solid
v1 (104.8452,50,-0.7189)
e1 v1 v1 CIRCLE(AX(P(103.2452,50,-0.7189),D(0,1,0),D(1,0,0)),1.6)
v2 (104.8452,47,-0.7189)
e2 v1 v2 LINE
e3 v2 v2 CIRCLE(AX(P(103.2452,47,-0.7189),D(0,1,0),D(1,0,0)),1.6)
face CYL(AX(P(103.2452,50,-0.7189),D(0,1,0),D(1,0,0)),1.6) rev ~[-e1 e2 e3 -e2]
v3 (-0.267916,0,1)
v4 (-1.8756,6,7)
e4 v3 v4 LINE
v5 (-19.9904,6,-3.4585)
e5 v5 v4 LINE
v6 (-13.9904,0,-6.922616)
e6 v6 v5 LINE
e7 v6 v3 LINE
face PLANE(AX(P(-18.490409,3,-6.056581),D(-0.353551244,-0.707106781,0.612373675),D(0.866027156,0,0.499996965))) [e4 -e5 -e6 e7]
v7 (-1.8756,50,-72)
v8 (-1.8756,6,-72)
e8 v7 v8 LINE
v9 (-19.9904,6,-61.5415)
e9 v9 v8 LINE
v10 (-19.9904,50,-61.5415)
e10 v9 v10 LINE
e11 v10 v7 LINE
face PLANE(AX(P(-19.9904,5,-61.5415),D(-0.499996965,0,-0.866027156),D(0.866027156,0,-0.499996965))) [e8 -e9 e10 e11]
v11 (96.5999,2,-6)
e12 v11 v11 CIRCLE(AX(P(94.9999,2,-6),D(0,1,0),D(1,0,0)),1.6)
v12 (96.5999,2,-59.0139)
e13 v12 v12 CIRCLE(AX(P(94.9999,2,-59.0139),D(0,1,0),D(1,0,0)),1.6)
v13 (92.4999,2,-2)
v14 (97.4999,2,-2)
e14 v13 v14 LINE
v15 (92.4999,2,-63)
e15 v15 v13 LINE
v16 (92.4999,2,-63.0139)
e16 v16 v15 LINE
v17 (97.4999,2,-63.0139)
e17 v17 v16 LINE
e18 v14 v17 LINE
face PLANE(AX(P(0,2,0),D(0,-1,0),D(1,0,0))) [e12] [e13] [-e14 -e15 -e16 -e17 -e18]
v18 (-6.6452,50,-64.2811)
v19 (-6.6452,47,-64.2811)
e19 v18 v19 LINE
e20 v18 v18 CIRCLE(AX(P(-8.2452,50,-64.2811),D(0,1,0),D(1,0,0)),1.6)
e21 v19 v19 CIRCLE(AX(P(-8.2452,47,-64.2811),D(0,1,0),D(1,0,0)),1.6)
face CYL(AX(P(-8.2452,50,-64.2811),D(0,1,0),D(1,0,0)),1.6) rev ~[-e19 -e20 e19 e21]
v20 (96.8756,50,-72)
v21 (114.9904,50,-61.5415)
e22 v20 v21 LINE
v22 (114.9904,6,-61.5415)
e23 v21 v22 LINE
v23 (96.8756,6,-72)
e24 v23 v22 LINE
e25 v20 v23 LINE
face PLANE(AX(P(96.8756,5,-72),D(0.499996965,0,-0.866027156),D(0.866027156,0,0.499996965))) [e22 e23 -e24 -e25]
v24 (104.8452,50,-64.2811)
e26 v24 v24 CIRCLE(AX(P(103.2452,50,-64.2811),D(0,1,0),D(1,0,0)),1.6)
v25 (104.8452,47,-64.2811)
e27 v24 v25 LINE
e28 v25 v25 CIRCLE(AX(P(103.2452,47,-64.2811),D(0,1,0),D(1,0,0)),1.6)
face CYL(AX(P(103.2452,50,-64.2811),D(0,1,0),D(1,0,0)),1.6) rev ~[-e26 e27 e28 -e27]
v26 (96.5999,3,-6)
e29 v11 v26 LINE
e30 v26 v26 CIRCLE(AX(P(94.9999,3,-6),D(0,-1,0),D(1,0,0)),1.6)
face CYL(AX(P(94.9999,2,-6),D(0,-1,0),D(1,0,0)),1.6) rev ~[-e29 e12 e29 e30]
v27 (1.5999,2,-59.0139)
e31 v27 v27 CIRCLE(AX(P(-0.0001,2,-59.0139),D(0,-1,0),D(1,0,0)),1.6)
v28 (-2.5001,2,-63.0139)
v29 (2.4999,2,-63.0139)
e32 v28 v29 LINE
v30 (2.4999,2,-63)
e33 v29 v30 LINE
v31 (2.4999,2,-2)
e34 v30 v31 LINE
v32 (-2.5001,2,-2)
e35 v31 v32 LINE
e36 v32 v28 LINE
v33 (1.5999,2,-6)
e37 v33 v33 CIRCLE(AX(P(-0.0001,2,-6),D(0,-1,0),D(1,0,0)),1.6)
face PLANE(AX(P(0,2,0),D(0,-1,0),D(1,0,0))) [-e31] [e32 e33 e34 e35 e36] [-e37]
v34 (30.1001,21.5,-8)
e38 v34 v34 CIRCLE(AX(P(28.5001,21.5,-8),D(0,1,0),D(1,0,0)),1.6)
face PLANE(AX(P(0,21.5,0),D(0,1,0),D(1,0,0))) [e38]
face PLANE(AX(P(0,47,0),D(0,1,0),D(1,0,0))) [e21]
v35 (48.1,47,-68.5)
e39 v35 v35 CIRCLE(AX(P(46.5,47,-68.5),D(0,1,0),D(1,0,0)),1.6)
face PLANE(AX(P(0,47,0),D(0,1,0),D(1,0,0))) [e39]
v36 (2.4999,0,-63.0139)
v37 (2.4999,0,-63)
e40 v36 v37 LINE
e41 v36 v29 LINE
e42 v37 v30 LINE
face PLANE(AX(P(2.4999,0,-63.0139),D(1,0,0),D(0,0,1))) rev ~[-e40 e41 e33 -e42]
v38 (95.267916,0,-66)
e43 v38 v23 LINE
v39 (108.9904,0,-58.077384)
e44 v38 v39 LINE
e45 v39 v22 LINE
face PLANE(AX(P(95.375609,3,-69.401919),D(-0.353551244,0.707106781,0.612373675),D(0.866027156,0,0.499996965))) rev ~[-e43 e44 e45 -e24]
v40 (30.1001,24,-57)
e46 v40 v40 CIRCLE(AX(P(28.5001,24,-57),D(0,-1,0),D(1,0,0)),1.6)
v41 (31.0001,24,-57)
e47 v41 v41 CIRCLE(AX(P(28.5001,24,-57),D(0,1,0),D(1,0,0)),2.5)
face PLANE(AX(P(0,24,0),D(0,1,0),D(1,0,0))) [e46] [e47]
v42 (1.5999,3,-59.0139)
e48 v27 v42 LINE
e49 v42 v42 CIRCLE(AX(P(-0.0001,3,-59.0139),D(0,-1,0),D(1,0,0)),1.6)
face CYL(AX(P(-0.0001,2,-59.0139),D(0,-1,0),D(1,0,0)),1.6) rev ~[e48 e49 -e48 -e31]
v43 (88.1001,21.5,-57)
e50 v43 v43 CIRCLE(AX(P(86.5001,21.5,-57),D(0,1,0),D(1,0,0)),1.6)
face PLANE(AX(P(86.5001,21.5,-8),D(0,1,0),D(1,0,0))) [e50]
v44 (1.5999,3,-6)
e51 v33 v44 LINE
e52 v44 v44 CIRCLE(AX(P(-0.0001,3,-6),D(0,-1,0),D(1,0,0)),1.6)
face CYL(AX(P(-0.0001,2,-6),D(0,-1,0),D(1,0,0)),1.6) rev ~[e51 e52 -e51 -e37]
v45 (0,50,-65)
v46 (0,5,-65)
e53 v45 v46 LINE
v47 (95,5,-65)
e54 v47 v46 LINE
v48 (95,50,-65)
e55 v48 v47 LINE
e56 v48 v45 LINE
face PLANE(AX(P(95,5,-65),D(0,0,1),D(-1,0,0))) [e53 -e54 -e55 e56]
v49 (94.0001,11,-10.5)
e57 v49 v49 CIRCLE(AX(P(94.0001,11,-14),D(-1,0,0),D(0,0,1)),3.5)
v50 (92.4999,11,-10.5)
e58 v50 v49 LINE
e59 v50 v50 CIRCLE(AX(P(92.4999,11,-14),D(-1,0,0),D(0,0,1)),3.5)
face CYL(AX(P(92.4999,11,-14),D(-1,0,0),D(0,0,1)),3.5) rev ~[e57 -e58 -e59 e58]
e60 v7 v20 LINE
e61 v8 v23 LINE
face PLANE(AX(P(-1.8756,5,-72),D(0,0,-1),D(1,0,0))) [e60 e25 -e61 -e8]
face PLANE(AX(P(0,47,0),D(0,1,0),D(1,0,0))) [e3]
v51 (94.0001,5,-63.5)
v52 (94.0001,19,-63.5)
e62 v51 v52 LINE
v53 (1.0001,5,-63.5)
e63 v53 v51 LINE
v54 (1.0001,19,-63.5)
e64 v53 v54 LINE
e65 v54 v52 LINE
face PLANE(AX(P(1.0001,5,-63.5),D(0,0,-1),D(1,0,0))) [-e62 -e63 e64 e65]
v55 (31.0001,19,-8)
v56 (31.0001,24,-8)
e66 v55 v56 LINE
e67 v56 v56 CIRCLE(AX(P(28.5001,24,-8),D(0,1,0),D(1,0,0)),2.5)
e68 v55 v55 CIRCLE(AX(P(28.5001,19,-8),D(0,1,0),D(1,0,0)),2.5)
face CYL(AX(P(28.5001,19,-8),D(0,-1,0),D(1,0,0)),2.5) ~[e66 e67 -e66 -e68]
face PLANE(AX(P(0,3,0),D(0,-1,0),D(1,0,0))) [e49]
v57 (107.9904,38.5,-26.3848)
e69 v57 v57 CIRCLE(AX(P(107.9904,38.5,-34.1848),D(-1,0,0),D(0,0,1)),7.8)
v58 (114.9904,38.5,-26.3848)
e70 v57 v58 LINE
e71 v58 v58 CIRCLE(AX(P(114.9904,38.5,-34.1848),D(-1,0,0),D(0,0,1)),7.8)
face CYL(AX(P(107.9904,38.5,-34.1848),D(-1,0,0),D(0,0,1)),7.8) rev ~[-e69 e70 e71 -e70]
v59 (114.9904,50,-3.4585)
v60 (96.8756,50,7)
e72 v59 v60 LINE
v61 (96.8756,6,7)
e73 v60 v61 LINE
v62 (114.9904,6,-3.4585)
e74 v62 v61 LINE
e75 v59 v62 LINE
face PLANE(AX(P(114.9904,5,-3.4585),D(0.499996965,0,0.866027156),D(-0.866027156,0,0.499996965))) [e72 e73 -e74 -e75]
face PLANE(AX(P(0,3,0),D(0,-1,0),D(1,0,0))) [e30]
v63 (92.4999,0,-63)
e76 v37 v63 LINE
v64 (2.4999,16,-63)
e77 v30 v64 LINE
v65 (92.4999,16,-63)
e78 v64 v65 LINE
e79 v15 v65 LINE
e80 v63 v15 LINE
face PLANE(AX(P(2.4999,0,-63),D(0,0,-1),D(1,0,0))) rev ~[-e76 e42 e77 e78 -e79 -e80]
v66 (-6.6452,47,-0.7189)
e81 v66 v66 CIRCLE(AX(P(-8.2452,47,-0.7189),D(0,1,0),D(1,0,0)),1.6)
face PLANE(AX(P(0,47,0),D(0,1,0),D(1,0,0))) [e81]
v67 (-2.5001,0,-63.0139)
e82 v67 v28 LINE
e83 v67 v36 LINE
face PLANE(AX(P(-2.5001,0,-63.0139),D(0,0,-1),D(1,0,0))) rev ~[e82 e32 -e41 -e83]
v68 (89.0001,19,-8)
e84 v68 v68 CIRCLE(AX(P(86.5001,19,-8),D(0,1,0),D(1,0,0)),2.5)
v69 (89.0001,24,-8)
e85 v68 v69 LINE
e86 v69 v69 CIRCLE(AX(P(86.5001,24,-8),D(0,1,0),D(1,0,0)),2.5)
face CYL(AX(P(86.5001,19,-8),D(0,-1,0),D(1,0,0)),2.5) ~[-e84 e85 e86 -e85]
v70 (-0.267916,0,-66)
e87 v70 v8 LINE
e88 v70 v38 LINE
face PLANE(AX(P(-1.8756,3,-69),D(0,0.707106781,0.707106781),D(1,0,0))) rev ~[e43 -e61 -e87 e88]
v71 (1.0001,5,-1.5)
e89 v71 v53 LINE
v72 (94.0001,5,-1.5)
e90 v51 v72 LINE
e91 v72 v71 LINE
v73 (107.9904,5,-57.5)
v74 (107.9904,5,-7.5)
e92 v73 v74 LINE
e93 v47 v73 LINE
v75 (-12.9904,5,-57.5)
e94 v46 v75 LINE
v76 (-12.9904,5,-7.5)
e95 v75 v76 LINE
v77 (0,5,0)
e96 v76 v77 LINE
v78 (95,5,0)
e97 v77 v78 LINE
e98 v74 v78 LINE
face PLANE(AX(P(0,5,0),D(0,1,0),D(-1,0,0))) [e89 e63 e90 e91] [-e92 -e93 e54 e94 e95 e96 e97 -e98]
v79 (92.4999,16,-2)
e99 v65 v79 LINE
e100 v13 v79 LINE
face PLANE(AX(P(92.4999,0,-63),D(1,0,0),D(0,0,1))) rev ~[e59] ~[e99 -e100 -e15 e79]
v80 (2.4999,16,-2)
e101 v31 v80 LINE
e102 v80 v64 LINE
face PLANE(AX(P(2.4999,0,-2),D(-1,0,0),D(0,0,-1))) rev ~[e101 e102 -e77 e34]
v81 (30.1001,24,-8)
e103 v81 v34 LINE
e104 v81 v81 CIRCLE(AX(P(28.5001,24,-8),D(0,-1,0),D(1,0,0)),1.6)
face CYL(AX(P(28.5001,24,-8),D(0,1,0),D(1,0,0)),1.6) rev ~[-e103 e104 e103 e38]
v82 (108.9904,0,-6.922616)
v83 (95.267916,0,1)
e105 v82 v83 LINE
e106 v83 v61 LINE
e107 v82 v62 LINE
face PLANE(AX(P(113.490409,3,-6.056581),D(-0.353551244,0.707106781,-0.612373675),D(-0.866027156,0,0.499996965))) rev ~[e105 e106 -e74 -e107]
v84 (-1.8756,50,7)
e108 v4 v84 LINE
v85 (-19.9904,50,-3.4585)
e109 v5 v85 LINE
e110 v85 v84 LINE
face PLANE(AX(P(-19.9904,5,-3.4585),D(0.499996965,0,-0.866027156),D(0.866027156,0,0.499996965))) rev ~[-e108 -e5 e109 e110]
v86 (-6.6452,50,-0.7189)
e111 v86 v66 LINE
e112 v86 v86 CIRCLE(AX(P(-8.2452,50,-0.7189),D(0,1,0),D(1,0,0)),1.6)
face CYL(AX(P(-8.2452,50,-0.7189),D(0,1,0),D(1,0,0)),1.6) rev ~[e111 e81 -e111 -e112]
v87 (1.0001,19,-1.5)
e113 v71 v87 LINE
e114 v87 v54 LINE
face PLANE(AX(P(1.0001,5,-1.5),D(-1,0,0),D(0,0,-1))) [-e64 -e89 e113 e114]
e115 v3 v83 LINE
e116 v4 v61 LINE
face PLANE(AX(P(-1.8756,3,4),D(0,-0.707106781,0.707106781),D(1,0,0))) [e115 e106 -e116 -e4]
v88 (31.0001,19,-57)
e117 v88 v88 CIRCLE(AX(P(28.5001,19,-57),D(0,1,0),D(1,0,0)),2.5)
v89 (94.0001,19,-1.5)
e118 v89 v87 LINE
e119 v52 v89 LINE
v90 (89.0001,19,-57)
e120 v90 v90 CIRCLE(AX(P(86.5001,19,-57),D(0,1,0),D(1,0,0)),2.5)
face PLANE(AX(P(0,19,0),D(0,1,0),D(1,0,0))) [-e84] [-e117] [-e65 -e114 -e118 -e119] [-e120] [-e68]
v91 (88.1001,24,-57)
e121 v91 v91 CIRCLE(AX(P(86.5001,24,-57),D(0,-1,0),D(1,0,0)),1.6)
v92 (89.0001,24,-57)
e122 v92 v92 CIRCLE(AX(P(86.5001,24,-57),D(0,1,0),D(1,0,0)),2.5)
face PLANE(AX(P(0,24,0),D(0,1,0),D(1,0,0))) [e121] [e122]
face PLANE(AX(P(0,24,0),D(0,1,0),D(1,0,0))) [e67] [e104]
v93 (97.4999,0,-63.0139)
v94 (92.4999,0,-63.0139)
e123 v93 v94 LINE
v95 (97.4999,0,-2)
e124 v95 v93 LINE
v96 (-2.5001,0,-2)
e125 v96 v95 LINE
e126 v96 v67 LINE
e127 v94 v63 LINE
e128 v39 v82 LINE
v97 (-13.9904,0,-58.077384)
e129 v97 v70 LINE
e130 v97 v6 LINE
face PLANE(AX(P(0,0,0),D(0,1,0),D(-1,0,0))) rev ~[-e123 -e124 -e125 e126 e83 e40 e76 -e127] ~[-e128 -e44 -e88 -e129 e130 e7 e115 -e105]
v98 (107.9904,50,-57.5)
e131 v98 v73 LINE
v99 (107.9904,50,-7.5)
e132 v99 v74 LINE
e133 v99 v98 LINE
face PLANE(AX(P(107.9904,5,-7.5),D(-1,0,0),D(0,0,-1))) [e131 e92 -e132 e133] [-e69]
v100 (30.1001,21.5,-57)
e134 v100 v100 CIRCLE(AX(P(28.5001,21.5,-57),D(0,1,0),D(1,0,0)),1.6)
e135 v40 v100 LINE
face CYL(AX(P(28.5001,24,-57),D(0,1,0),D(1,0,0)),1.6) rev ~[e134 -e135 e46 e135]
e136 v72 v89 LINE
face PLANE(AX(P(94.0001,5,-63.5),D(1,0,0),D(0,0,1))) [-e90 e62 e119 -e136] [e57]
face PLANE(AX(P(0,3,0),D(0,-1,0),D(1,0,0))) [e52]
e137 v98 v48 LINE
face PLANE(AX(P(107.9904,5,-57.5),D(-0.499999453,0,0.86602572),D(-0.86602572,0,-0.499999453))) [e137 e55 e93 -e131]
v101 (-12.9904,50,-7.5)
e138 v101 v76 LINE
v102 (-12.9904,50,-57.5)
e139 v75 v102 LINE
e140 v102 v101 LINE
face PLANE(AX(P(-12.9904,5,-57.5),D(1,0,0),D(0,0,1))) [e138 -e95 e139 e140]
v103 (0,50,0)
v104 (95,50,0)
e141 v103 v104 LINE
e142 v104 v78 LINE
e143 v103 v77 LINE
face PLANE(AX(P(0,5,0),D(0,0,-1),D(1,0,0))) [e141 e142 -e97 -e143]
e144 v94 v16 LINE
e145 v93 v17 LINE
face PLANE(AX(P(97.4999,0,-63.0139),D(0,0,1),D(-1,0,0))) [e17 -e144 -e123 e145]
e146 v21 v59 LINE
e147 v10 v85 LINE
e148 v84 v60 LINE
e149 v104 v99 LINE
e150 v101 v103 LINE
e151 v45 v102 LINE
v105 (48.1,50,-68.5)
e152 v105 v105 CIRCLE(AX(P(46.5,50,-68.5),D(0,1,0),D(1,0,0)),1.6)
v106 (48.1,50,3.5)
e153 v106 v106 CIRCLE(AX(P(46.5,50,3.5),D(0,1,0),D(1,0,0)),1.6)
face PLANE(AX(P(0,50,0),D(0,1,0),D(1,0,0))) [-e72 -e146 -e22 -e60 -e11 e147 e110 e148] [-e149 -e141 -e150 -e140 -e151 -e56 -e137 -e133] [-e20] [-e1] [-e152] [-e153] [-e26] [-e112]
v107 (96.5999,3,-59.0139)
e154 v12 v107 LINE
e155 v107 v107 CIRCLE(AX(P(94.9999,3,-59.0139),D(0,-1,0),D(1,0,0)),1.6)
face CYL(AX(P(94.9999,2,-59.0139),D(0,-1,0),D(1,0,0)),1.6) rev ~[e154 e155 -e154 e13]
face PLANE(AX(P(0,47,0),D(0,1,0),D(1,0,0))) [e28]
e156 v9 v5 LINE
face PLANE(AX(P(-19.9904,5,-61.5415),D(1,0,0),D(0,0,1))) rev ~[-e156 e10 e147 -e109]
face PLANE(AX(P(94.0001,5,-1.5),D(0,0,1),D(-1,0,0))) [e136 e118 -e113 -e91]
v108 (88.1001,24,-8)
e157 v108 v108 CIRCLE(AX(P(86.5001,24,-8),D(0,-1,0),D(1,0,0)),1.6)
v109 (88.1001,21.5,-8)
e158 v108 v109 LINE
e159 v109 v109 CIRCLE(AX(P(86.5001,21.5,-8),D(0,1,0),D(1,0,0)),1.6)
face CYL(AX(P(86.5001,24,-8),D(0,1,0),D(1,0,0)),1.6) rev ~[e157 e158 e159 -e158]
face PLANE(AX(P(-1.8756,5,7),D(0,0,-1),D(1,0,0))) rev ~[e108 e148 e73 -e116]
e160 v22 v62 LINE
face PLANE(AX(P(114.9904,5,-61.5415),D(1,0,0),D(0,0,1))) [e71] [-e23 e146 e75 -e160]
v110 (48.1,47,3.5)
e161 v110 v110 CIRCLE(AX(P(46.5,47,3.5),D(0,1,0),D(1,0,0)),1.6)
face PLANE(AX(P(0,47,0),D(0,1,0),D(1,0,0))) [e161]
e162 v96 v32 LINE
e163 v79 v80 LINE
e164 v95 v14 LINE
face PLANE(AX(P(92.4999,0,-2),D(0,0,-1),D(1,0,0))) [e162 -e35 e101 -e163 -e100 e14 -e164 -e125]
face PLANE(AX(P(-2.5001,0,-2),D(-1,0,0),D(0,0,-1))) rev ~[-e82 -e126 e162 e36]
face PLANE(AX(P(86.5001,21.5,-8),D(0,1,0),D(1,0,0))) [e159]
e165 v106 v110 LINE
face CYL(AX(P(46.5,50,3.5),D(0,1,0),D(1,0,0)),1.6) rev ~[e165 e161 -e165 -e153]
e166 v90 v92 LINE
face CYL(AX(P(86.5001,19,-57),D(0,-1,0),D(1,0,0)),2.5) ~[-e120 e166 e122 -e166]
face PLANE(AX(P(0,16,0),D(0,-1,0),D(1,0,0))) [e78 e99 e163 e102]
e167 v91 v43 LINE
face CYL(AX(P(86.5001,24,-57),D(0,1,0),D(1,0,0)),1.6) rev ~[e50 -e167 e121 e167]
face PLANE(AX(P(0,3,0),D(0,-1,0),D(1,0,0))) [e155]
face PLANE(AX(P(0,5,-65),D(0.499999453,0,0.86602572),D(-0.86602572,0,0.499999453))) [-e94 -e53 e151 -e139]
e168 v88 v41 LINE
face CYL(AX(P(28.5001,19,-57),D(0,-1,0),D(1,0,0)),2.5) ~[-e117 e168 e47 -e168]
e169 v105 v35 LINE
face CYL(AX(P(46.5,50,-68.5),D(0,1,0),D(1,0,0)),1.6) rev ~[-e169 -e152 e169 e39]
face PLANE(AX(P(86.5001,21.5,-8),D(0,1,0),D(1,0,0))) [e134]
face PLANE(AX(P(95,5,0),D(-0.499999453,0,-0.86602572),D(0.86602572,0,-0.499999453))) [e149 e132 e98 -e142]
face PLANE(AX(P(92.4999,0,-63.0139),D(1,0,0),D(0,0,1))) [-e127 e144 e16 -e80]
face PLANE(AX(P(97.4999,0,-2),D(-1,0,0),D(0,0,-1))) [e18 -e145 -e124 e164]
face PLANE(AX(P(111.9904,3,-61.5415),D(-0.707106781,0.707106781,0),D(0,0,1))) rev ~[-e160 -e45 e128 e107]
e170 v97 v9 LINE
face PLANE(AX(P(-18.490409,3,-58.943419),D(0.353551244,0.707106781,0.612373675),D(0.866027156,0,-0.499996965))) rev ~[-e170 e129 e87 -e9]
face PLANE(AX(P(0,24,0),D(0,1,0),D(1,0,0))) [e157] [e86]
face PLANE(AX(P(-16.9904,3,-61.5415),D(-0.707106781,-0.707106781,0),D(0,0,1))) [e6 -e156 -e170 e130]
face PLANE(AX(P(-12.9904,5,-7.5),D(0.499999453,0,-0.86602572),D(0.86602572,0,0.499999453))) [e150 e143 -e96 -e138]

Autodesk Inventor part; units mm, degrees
ref_plane "YZ Plane" through (0, 0, 0) normal (1, 0, 0) x (0, 1, 0)
ref_plane "XZ Plane" through (0, 0, 0) normal (0, 1, 0) x (-1, 0, 0)
sketch "Sketch1" plane through (0, 0, 0) normal (0, 1, 0) x (-1, 0, 0)
  line L0 (0, 0) -> (-95, 0)
  line L1 (-95, 0) -> (-95, -65)
  line L2 (-95, -65) -> (0, -65)
  line L3 (0, -65) -> (0, 0)
  line L4 (0, -65) -> (12.9904, -57.5)
  line L5 (12.9904, -57.5) -> (12.9904, -7.5)
  line L6 (12.9904, -7.5) -> (0, 0)
  line L7 (-95, -65) -> (-107.9904, -57.5)
  line L8 (-107.9904, -57.5) -> (-107.9904, -7.5)
  line L9 (-107.9904, -7.5) -> (-95, 0)
  dimension "d0" = 95
  dimension "d1" = 65
  dimension "d2" = 15
  dimension "d3" = 15
  dimension "d4" = 120
  dimension "d5" = 15
  dimension "d6" = 15
  dimension "d7" = 120
extrude "Extrusion1" add sketch "Sketch1" along normal blind 5
sketch "Sketch2" plane through (0, 5, 0) normal (0, 1, 0) x (1, 0, 0)
  line L0 (1.0001, 63.5) -> (94.0001, 63.5)
  line L1 (94.0001, 63.5) -> (94.0001, 1.5)
  line L2 (94.0001, 1.5) -> (1.0001, 1.5)
  line L3 (1.0001, 1.5) -> (1.0001, 63.5)
  line L4 (0, 0) -> (95, 0) projected
  line L5 (-12.9904, 57.5) -> (-12.9904, 7.5) projected
  dimension "d10" = 93
  dimension "d11" = 62
  dimension "d12" = 1.5
  dimension "d13" = 13.9905
extrude "Extrusion2" add sketch "Sketch2" along normal blind 14
sketch "Sketch4" plane through (0, 5, 0) normal (0, 1, 0) x (1, 0, 0)
  line L0 (-12.9904, 57.5) -> (-12.9904, 7.5) projected
  line L1 (-12.9904, 57.5) -> (-12.9904, 7.5)
  line L2 (-12.9904, 7.5) -> (0, 0)
  line L3 (0, 0) -> (95, 0)
  line L4 (95, 0) -> (107.9904, 7.5) projected
  line L5 (95, 0) -> (107.9904, 7.5)
  line L6 (107.9904, 7.5) -> (107.9904, 57.5)
  line L7 (107.9904, 57.5) -> (95, 65) projected
  line L8 (107.9904, 57.5) -> (95, 65)
  line L9 (95, 65) -> (0, 65) projected
  line L10 (95, 65) -> (0, 65)
  line L11 (0, 65) -> (-12.9904, 57.5)
  line L12 (-19.9904, 61.5415) -> (-19.9904, 3.4585)
  line L13 (114.9904, 61.5415) -> (114.9904, 3.4585)
  line L14 (-1.8756, 72) -> (96.8756, 72)
  line L15 (-19.9904, 61.5415) -> (-1.8756, 72)
  line L16 (96.8756, 72) -> (114.9904, 61.5415)
  line L17 (114.9904, 3.4585) -> (96.8756, -7)
  line L18 (-19.9904, 3.4585) -> (-1.8756, -7)
  line L19 (-1.8756, -7) -> (96.8756, -7)
  line L20 (95, 0) -> (107.9904, 7.5) projected
  line L21 (107.9904, 7.5) -> (107.9904, 57.5) projected
  line L22 (0, 0) -> (95, 0) projected
  dimension "d22" = 7
  dimension "d23" = 7
  dimension "d24" = 7
  dimension "d25" = 7
  dimension "d26" = 7
  dimension "d27" = 7
  dimension "d28" = 7
  dimension "d29" = 7
extrude "Extrusion4" add sketch "Sketch4" along normal blind 45 and the other way blind 5
sketch "Sketch5" plane through (0, 0, 0) normal (0, -1, 0) x (1, 0, 0)
  line L0 (2.4999, -63) -> (92.4999, -63)
  line L1 (92.4999, -63) -> (92.4999, -2)
  line L2 (92.4999, -2) -> (2.4999, -2)
  line L3 (2.4999, -2) -> (2.4999, -63)
  line L4 (0, 0) -> (95, 0) projected
  line L5 (-12.9904, -57.5) -> (-12.9904, -7.5) projected
  line L6 (96.8756, 7) -> (-1.8756, 7) projected
  line L7 (114.9904, -61.5415) -> (114.9904, -3.4585) projected
  dimension "d34" = 61
  dimension "d35" = 90
  dimension "d43" = 9
  dimension "d44" = 22.4905
extrude "Extrusion5" cut sketch "Sketch5" against normal blind 16
chamfer "Chamfer1" distance 6 angle 45 8 edges at (47.5, 0, -72) (105.933, 0, -66.7707) (114.9904, 0, -32.5) (105.933, 0, 1.7707) (47.5, 0, 7) (-10.933, 0, 1.7707) (-19.9904, 0, -32.5) (-10.933, 0, -66.7707)
sketch "Sketch6" plane through (0, 0, 0) normal (0, -1, 0) x (1, 0, 0)
  line L0 (2.4999, -2) -> (-2.5001, -2)
  line L1 (-2.5001, -2) -> (-2.5001, -63.0139)
  line L2 (-2.5001, -63.0139) -> (2.4999, -63.0139)
  line L3 (2.4999, -63.0139) -> (2.4999, -2)
  line L4 (2.4999, -2) -> (92.4999, -2) projected
  line L5 (92.4999, -2) -> (97.4999, -2)
  line L6 (97.4999, -2) -> (97.4999, -63.0139)
  line L7 (97.4999, -63.0139) -> (92.4999, -63.0139)
  line L8 (92.4999, -63.0139) -> (92.4999, -2)
  point P0 (0, 0)
  dimension "d45" = 5
  dimension "d46" = 5
extrude "Extrusion6" cut sketch "Sketch6" against normal blind 2
sketch "Sketch7" plane through (0, 2, 0) normal (0, -1, 0) x (1, 0, 0)
  circle A0 centre (-0.0001, -6) radius 1.6
  circle A1 centre (94.9999, -6) radius 1.6
  circle A2 centre (-0.0001, -59.0139) radius 1.6
  circle A3 centre (94.9999, -59.0139) radius 1.6
  line L0 (94.0001, -63.5) -> (94.0001, -1.5) projected
  line L1 (2.4999, -2) -> (2.4999, -63) projected
  line L2 (97.4999, -2) -> (97.4999, -63.0139) projected
  line L3 (-2.5001, -2) -> (97.4999, -2) projected
  line L4 (-2.5001, -63.0139) -> (-2.5001, -2) projected
  line L5 (2.4999, -63.0139) -> (-2.5001, -63.0139) projected
  line L6 (92.4999, -63) -> (92.4999, -2) projected
  line L7 (97.4999, -63.0139) -> (92.4999, -63.0139) projected
  point P0 (0, 0)
  dimension "d49" = 3.2
  dimension "d50" = 2.5
  dimension "d51" = 2.5
  dimension "d52" = 4
  dimension "d53" = 0
  dimension "d54" = 2.5
  dimension "d55" = 4
  dimension "d56" = 2.5
  dimension "d57" = 4
extrude "Extrusion7" cut sketch "Sketch7" against normal blind 1 contours A0 | A1 L0 | L0 A1 | L0 A3 | A3 L0 | A2
sketch "Sketch8" plane through (0, 19, 0) normal (0, 1, 0) x (1, 0, 0)
  line L0 (5.0001, 60.5) -> (90.0001, 60.5)
  line L1 (90.0001, 60.5) -> (90.0001, 4.5)
  line L2 (90.0001, 4.5) -> (5.0001, 4.5)
  line L3 (5.0001, 4.5) -> (5.0001, 60.5)
  line L4 (96.8756, 72) -> (-1.8756, 72) projected
  line L5 (-19.9904, 61.5415) -> (-19.9904, 3.4585) projected
  circle A0 centre (28.5001, 57) radius 2.5
  circle A1 centre (28.5001, 8) radius 2.5
  circle A2 centre (86.5001, 57) radius 2.5
  circle A3 centre (86.5001, 8) radius 2.5
  circle A4 centre (28.5001, 8) radius 1.6
  circle A5 centre (86.5001, 8) radius 1.6
  circle A6 centre (86.5001, 57) radius 1.6
  circle A7 centre (28.5001, 57) radius 1.6
  circle A8 centre (28.5001, 57) radius 2.5
  point P0 (0, 0)
  dimension "d60" = 85
  dimension "d61" = 56
  dimension "d62" = 11.5
  dimension "d63" = 24.9905
  dimension "d65" = 3.5
  dimension "d66" = 5
  dimension "d68" = 3.5
  dimension "d69" = 3.5
  dimension "d70" = 3.5
  dimension "d71" = 58
  dimension "d72" = 58
  dimension "d75" = 3.5
  dimension "d76" = 3.5
  dimension "d100" = 3.2
  dimension "d101" = 3.2
  dimension "d102" = 3.2
  dimension "d103" = 3.2
extrude "Extrusion8" add sketch "Sketch8" along normal blind 5 contours A0 | A1 | A2 | A3 | A4 | A5 | A6 | A7
sketch "Sketch9" plane through (92.4999, 16, -63) normal (-1, 0, 0) x (0, 0, 1)
  circle A0 centre (49, -5) radius 3.5
  line L0 (61, 0) -> (0, 0) projected
  line L1 (61, -14) -> (61, 0) projected
  point P0 (63, -16)
  dimension "d77" = 7
  dimension "d78" = 5
  dimension "d79" = 12
extrude "Extrusion9" cut sketch "Sketch9" against normal blind 5
sketch "Sketch10" plane through (0, 50, 0) normal (0, 1, 0) x (1, 0, 0)
  line L0 (-12.9904, 7.5) -> (-12.9904, 57.5) projected
  line L1 (-12.9904, 7.5) -> (-16.4904, 1.4378)
  line L2 (-1.8756, -7) -> (-19.9904, 3.4585) projected
  line L3 (0, 0) -> (95, 0) projected
  line L4 (0, 0) -> (-3.486, -6.038)
  line L5 (-12.9904, 57.5) -> (0, 65) projected
  line L6 (-12.9904, 57.5) -> (-16.4904, 63.5622)
  line L7 (-1.8756, 72) -> (-19.9904, 61.5415) projected
  line L8 (0, 65) -> (-3.5, 71.0622)
  line L9 (0, 65) -> (95, 65) projected
  line L10 (95, 65) -> (98.5, 71.0622)
  line L11 (114.9904, 61.5415) -> (96.8756, 72) projected
  line L12 (107.9904, 57.5) -> (95, 65) projected
  line L13 (107.9904, 57.5) -> (111.4904, 63.5622)
  line L14 (95, 0) -> (107.9904, 7.5) projected
  line L15 (107.9904, 7.5) -> (111.4904, 1.4378)
  line L16 (95, 0) -> (98.5, -6.0622)
  line L17 (96.8756, -7) -> (114.9904, 3.4585) projected
  circle A0 centre (103.2452, 0.7189) radius 1.6
  circle A1 centre (103.2452, 64.2811) radius 1.6
  circle A2 centre (-8.2452, 64.2811) radius 1.6
  circle A3 centre (-8.2452, 0.7189) radius 1.6
  circle A4 centre (46.5, -3.5) radius 1.6
  circle A5 centre (46.5, 68.5) radius 1.6
  line L18 (0, 0) -> (-12.9904, 7.5) projected
  line L19 (-12.9904, 7.5) -> (0, 0) projected
  line L20 (0, 0) -> (0, -7)
  line L21 (-1.8756, -7) -> (96.8756, -7) projected
  line L22 (0, 65) -> (0, 72)
  dimension "d82" = 3.2
  dimension "d83" = 7.5
  dimension "d84" = 90
  dimension "d85" = 3.5
  dimension "d86" = 90
  dimension "d87" = 7.5
  dimension "d88" = 3.5
  dimension "d89" = 7.5
  dimension "d90" = 3.5
  dimension "d91" = 7.5
  dimension "d92" = 3.5
  dimension "d93" = 46.5
  dimension "d95" = 46.5
  dimension "d96" = 3.5
  dimension "d97" = 3.5
extrude "Extrusion10" cut sketch "Sketch10" against normal blind 3 contours A0 | A1 | A2 | A3 | A4 | A5
ref_plane "Work Plane2" through (0, 24, 0) normal (0, 1, 0) x (1, 0, 0)
sketch "Sketch14" plane through (0, 24, 0) normal (0, 1, 0) x (1, 0, 0)
  circle A0 centre (28.5001, 8) radius 1.6
  circle A1 centre (28.5001, 8) radius 2.5 projected
  line L0 (28.5001, 8) -> (86.5001, 8)
  line L1 (86.5001, 8) -> (86.5001, 64)
  line L2 (86.5001, 64) -> (28.5001, 64)
  line L3 (28.5001, 64) -> (28.5001, 8)
  point P0 (0, 0)
  dimension "d108" = 3.2
  dimension "d109" = 0
  dimension "d110" = 0
  dimension "d117" = 56
  dimension "d118" = 58
extrude "Extrusion11" cut sketch "Sketch14" against normal blind 2.5 contours L0 L3 A0 | A0 L3 L0
sketch "Sketch15" plane through (86.5001, 24, -8) normal (0, 1, 0) x (1, 0, 0)
  circle A0 centre (0, 0) radius 1.6
  circle A1 centre (0, 49) radius 1.6
  circle A2 centre (0, 49) radius 2.5
  circle A3 centre (-58, 0) radius 1.6 projected
  line L0 (-58, 0) -> (0, 0)
  line L1 (0, 0) -> (0, 49)
  line L2 (0, 49) -> (-58, 49)
  line L3 (-58, 49) -> (-58, 0)
  circle A4 centre (-58, 49) radius 1.6
  point P0 (-86.5001, -8)
  dimension "d113" = 3.2
  dimension "d114" = 3.2
  dimension "d115" = 5
  dimension "d116" = 0
  dimension "d119" = 49
  dimension "d120" = 58
  dimension "d121" = 3.2
extrude "Extrusion12" cut sketch "Sketch15" against normal blind 2.5 contours A0 L0 L1 | L1 L0 A0 | L1 L2 A1 | A1 L2 L1 | A4 L3 L2 | L2 L3 A4
sketch "Sketch16" plane through (107.9904, 5, -57.5) normal (-1, 0, 0) x (0, 0, 1)
  circle A0 centre (23.3152, 33.5) radius 7.8
  line L0 (0, 45) -> (50, 45) projected
  line L1 (0, 45) -> (50, 45)
  line L2 (57.5, 0) -> (50, 0) projected
  line L3 (50, 45) -> (50, 0)
  line L4 (50, 0) -> (0, 0)
  line L5 (0, 0) -> (0, 45) projected
  line L6 (0, 0) -> (0, 45)
  line L7 (-52.9421, -1.2141) -> (6.8536, -5)
  line L8 (6.8536, -5) -> (-57.6878, -5)
  line L9 (-57.6878, -5) -> (10.0174, -1.2141)
  point P0 (57.5, -5)
  dimension "d124" = 15.6
  dimension "d125" = 11.5
extrude "Extrusion13" cut sketch "Sketch16" against normal blind 10 contours A0
properties part number "Bottomv4"
